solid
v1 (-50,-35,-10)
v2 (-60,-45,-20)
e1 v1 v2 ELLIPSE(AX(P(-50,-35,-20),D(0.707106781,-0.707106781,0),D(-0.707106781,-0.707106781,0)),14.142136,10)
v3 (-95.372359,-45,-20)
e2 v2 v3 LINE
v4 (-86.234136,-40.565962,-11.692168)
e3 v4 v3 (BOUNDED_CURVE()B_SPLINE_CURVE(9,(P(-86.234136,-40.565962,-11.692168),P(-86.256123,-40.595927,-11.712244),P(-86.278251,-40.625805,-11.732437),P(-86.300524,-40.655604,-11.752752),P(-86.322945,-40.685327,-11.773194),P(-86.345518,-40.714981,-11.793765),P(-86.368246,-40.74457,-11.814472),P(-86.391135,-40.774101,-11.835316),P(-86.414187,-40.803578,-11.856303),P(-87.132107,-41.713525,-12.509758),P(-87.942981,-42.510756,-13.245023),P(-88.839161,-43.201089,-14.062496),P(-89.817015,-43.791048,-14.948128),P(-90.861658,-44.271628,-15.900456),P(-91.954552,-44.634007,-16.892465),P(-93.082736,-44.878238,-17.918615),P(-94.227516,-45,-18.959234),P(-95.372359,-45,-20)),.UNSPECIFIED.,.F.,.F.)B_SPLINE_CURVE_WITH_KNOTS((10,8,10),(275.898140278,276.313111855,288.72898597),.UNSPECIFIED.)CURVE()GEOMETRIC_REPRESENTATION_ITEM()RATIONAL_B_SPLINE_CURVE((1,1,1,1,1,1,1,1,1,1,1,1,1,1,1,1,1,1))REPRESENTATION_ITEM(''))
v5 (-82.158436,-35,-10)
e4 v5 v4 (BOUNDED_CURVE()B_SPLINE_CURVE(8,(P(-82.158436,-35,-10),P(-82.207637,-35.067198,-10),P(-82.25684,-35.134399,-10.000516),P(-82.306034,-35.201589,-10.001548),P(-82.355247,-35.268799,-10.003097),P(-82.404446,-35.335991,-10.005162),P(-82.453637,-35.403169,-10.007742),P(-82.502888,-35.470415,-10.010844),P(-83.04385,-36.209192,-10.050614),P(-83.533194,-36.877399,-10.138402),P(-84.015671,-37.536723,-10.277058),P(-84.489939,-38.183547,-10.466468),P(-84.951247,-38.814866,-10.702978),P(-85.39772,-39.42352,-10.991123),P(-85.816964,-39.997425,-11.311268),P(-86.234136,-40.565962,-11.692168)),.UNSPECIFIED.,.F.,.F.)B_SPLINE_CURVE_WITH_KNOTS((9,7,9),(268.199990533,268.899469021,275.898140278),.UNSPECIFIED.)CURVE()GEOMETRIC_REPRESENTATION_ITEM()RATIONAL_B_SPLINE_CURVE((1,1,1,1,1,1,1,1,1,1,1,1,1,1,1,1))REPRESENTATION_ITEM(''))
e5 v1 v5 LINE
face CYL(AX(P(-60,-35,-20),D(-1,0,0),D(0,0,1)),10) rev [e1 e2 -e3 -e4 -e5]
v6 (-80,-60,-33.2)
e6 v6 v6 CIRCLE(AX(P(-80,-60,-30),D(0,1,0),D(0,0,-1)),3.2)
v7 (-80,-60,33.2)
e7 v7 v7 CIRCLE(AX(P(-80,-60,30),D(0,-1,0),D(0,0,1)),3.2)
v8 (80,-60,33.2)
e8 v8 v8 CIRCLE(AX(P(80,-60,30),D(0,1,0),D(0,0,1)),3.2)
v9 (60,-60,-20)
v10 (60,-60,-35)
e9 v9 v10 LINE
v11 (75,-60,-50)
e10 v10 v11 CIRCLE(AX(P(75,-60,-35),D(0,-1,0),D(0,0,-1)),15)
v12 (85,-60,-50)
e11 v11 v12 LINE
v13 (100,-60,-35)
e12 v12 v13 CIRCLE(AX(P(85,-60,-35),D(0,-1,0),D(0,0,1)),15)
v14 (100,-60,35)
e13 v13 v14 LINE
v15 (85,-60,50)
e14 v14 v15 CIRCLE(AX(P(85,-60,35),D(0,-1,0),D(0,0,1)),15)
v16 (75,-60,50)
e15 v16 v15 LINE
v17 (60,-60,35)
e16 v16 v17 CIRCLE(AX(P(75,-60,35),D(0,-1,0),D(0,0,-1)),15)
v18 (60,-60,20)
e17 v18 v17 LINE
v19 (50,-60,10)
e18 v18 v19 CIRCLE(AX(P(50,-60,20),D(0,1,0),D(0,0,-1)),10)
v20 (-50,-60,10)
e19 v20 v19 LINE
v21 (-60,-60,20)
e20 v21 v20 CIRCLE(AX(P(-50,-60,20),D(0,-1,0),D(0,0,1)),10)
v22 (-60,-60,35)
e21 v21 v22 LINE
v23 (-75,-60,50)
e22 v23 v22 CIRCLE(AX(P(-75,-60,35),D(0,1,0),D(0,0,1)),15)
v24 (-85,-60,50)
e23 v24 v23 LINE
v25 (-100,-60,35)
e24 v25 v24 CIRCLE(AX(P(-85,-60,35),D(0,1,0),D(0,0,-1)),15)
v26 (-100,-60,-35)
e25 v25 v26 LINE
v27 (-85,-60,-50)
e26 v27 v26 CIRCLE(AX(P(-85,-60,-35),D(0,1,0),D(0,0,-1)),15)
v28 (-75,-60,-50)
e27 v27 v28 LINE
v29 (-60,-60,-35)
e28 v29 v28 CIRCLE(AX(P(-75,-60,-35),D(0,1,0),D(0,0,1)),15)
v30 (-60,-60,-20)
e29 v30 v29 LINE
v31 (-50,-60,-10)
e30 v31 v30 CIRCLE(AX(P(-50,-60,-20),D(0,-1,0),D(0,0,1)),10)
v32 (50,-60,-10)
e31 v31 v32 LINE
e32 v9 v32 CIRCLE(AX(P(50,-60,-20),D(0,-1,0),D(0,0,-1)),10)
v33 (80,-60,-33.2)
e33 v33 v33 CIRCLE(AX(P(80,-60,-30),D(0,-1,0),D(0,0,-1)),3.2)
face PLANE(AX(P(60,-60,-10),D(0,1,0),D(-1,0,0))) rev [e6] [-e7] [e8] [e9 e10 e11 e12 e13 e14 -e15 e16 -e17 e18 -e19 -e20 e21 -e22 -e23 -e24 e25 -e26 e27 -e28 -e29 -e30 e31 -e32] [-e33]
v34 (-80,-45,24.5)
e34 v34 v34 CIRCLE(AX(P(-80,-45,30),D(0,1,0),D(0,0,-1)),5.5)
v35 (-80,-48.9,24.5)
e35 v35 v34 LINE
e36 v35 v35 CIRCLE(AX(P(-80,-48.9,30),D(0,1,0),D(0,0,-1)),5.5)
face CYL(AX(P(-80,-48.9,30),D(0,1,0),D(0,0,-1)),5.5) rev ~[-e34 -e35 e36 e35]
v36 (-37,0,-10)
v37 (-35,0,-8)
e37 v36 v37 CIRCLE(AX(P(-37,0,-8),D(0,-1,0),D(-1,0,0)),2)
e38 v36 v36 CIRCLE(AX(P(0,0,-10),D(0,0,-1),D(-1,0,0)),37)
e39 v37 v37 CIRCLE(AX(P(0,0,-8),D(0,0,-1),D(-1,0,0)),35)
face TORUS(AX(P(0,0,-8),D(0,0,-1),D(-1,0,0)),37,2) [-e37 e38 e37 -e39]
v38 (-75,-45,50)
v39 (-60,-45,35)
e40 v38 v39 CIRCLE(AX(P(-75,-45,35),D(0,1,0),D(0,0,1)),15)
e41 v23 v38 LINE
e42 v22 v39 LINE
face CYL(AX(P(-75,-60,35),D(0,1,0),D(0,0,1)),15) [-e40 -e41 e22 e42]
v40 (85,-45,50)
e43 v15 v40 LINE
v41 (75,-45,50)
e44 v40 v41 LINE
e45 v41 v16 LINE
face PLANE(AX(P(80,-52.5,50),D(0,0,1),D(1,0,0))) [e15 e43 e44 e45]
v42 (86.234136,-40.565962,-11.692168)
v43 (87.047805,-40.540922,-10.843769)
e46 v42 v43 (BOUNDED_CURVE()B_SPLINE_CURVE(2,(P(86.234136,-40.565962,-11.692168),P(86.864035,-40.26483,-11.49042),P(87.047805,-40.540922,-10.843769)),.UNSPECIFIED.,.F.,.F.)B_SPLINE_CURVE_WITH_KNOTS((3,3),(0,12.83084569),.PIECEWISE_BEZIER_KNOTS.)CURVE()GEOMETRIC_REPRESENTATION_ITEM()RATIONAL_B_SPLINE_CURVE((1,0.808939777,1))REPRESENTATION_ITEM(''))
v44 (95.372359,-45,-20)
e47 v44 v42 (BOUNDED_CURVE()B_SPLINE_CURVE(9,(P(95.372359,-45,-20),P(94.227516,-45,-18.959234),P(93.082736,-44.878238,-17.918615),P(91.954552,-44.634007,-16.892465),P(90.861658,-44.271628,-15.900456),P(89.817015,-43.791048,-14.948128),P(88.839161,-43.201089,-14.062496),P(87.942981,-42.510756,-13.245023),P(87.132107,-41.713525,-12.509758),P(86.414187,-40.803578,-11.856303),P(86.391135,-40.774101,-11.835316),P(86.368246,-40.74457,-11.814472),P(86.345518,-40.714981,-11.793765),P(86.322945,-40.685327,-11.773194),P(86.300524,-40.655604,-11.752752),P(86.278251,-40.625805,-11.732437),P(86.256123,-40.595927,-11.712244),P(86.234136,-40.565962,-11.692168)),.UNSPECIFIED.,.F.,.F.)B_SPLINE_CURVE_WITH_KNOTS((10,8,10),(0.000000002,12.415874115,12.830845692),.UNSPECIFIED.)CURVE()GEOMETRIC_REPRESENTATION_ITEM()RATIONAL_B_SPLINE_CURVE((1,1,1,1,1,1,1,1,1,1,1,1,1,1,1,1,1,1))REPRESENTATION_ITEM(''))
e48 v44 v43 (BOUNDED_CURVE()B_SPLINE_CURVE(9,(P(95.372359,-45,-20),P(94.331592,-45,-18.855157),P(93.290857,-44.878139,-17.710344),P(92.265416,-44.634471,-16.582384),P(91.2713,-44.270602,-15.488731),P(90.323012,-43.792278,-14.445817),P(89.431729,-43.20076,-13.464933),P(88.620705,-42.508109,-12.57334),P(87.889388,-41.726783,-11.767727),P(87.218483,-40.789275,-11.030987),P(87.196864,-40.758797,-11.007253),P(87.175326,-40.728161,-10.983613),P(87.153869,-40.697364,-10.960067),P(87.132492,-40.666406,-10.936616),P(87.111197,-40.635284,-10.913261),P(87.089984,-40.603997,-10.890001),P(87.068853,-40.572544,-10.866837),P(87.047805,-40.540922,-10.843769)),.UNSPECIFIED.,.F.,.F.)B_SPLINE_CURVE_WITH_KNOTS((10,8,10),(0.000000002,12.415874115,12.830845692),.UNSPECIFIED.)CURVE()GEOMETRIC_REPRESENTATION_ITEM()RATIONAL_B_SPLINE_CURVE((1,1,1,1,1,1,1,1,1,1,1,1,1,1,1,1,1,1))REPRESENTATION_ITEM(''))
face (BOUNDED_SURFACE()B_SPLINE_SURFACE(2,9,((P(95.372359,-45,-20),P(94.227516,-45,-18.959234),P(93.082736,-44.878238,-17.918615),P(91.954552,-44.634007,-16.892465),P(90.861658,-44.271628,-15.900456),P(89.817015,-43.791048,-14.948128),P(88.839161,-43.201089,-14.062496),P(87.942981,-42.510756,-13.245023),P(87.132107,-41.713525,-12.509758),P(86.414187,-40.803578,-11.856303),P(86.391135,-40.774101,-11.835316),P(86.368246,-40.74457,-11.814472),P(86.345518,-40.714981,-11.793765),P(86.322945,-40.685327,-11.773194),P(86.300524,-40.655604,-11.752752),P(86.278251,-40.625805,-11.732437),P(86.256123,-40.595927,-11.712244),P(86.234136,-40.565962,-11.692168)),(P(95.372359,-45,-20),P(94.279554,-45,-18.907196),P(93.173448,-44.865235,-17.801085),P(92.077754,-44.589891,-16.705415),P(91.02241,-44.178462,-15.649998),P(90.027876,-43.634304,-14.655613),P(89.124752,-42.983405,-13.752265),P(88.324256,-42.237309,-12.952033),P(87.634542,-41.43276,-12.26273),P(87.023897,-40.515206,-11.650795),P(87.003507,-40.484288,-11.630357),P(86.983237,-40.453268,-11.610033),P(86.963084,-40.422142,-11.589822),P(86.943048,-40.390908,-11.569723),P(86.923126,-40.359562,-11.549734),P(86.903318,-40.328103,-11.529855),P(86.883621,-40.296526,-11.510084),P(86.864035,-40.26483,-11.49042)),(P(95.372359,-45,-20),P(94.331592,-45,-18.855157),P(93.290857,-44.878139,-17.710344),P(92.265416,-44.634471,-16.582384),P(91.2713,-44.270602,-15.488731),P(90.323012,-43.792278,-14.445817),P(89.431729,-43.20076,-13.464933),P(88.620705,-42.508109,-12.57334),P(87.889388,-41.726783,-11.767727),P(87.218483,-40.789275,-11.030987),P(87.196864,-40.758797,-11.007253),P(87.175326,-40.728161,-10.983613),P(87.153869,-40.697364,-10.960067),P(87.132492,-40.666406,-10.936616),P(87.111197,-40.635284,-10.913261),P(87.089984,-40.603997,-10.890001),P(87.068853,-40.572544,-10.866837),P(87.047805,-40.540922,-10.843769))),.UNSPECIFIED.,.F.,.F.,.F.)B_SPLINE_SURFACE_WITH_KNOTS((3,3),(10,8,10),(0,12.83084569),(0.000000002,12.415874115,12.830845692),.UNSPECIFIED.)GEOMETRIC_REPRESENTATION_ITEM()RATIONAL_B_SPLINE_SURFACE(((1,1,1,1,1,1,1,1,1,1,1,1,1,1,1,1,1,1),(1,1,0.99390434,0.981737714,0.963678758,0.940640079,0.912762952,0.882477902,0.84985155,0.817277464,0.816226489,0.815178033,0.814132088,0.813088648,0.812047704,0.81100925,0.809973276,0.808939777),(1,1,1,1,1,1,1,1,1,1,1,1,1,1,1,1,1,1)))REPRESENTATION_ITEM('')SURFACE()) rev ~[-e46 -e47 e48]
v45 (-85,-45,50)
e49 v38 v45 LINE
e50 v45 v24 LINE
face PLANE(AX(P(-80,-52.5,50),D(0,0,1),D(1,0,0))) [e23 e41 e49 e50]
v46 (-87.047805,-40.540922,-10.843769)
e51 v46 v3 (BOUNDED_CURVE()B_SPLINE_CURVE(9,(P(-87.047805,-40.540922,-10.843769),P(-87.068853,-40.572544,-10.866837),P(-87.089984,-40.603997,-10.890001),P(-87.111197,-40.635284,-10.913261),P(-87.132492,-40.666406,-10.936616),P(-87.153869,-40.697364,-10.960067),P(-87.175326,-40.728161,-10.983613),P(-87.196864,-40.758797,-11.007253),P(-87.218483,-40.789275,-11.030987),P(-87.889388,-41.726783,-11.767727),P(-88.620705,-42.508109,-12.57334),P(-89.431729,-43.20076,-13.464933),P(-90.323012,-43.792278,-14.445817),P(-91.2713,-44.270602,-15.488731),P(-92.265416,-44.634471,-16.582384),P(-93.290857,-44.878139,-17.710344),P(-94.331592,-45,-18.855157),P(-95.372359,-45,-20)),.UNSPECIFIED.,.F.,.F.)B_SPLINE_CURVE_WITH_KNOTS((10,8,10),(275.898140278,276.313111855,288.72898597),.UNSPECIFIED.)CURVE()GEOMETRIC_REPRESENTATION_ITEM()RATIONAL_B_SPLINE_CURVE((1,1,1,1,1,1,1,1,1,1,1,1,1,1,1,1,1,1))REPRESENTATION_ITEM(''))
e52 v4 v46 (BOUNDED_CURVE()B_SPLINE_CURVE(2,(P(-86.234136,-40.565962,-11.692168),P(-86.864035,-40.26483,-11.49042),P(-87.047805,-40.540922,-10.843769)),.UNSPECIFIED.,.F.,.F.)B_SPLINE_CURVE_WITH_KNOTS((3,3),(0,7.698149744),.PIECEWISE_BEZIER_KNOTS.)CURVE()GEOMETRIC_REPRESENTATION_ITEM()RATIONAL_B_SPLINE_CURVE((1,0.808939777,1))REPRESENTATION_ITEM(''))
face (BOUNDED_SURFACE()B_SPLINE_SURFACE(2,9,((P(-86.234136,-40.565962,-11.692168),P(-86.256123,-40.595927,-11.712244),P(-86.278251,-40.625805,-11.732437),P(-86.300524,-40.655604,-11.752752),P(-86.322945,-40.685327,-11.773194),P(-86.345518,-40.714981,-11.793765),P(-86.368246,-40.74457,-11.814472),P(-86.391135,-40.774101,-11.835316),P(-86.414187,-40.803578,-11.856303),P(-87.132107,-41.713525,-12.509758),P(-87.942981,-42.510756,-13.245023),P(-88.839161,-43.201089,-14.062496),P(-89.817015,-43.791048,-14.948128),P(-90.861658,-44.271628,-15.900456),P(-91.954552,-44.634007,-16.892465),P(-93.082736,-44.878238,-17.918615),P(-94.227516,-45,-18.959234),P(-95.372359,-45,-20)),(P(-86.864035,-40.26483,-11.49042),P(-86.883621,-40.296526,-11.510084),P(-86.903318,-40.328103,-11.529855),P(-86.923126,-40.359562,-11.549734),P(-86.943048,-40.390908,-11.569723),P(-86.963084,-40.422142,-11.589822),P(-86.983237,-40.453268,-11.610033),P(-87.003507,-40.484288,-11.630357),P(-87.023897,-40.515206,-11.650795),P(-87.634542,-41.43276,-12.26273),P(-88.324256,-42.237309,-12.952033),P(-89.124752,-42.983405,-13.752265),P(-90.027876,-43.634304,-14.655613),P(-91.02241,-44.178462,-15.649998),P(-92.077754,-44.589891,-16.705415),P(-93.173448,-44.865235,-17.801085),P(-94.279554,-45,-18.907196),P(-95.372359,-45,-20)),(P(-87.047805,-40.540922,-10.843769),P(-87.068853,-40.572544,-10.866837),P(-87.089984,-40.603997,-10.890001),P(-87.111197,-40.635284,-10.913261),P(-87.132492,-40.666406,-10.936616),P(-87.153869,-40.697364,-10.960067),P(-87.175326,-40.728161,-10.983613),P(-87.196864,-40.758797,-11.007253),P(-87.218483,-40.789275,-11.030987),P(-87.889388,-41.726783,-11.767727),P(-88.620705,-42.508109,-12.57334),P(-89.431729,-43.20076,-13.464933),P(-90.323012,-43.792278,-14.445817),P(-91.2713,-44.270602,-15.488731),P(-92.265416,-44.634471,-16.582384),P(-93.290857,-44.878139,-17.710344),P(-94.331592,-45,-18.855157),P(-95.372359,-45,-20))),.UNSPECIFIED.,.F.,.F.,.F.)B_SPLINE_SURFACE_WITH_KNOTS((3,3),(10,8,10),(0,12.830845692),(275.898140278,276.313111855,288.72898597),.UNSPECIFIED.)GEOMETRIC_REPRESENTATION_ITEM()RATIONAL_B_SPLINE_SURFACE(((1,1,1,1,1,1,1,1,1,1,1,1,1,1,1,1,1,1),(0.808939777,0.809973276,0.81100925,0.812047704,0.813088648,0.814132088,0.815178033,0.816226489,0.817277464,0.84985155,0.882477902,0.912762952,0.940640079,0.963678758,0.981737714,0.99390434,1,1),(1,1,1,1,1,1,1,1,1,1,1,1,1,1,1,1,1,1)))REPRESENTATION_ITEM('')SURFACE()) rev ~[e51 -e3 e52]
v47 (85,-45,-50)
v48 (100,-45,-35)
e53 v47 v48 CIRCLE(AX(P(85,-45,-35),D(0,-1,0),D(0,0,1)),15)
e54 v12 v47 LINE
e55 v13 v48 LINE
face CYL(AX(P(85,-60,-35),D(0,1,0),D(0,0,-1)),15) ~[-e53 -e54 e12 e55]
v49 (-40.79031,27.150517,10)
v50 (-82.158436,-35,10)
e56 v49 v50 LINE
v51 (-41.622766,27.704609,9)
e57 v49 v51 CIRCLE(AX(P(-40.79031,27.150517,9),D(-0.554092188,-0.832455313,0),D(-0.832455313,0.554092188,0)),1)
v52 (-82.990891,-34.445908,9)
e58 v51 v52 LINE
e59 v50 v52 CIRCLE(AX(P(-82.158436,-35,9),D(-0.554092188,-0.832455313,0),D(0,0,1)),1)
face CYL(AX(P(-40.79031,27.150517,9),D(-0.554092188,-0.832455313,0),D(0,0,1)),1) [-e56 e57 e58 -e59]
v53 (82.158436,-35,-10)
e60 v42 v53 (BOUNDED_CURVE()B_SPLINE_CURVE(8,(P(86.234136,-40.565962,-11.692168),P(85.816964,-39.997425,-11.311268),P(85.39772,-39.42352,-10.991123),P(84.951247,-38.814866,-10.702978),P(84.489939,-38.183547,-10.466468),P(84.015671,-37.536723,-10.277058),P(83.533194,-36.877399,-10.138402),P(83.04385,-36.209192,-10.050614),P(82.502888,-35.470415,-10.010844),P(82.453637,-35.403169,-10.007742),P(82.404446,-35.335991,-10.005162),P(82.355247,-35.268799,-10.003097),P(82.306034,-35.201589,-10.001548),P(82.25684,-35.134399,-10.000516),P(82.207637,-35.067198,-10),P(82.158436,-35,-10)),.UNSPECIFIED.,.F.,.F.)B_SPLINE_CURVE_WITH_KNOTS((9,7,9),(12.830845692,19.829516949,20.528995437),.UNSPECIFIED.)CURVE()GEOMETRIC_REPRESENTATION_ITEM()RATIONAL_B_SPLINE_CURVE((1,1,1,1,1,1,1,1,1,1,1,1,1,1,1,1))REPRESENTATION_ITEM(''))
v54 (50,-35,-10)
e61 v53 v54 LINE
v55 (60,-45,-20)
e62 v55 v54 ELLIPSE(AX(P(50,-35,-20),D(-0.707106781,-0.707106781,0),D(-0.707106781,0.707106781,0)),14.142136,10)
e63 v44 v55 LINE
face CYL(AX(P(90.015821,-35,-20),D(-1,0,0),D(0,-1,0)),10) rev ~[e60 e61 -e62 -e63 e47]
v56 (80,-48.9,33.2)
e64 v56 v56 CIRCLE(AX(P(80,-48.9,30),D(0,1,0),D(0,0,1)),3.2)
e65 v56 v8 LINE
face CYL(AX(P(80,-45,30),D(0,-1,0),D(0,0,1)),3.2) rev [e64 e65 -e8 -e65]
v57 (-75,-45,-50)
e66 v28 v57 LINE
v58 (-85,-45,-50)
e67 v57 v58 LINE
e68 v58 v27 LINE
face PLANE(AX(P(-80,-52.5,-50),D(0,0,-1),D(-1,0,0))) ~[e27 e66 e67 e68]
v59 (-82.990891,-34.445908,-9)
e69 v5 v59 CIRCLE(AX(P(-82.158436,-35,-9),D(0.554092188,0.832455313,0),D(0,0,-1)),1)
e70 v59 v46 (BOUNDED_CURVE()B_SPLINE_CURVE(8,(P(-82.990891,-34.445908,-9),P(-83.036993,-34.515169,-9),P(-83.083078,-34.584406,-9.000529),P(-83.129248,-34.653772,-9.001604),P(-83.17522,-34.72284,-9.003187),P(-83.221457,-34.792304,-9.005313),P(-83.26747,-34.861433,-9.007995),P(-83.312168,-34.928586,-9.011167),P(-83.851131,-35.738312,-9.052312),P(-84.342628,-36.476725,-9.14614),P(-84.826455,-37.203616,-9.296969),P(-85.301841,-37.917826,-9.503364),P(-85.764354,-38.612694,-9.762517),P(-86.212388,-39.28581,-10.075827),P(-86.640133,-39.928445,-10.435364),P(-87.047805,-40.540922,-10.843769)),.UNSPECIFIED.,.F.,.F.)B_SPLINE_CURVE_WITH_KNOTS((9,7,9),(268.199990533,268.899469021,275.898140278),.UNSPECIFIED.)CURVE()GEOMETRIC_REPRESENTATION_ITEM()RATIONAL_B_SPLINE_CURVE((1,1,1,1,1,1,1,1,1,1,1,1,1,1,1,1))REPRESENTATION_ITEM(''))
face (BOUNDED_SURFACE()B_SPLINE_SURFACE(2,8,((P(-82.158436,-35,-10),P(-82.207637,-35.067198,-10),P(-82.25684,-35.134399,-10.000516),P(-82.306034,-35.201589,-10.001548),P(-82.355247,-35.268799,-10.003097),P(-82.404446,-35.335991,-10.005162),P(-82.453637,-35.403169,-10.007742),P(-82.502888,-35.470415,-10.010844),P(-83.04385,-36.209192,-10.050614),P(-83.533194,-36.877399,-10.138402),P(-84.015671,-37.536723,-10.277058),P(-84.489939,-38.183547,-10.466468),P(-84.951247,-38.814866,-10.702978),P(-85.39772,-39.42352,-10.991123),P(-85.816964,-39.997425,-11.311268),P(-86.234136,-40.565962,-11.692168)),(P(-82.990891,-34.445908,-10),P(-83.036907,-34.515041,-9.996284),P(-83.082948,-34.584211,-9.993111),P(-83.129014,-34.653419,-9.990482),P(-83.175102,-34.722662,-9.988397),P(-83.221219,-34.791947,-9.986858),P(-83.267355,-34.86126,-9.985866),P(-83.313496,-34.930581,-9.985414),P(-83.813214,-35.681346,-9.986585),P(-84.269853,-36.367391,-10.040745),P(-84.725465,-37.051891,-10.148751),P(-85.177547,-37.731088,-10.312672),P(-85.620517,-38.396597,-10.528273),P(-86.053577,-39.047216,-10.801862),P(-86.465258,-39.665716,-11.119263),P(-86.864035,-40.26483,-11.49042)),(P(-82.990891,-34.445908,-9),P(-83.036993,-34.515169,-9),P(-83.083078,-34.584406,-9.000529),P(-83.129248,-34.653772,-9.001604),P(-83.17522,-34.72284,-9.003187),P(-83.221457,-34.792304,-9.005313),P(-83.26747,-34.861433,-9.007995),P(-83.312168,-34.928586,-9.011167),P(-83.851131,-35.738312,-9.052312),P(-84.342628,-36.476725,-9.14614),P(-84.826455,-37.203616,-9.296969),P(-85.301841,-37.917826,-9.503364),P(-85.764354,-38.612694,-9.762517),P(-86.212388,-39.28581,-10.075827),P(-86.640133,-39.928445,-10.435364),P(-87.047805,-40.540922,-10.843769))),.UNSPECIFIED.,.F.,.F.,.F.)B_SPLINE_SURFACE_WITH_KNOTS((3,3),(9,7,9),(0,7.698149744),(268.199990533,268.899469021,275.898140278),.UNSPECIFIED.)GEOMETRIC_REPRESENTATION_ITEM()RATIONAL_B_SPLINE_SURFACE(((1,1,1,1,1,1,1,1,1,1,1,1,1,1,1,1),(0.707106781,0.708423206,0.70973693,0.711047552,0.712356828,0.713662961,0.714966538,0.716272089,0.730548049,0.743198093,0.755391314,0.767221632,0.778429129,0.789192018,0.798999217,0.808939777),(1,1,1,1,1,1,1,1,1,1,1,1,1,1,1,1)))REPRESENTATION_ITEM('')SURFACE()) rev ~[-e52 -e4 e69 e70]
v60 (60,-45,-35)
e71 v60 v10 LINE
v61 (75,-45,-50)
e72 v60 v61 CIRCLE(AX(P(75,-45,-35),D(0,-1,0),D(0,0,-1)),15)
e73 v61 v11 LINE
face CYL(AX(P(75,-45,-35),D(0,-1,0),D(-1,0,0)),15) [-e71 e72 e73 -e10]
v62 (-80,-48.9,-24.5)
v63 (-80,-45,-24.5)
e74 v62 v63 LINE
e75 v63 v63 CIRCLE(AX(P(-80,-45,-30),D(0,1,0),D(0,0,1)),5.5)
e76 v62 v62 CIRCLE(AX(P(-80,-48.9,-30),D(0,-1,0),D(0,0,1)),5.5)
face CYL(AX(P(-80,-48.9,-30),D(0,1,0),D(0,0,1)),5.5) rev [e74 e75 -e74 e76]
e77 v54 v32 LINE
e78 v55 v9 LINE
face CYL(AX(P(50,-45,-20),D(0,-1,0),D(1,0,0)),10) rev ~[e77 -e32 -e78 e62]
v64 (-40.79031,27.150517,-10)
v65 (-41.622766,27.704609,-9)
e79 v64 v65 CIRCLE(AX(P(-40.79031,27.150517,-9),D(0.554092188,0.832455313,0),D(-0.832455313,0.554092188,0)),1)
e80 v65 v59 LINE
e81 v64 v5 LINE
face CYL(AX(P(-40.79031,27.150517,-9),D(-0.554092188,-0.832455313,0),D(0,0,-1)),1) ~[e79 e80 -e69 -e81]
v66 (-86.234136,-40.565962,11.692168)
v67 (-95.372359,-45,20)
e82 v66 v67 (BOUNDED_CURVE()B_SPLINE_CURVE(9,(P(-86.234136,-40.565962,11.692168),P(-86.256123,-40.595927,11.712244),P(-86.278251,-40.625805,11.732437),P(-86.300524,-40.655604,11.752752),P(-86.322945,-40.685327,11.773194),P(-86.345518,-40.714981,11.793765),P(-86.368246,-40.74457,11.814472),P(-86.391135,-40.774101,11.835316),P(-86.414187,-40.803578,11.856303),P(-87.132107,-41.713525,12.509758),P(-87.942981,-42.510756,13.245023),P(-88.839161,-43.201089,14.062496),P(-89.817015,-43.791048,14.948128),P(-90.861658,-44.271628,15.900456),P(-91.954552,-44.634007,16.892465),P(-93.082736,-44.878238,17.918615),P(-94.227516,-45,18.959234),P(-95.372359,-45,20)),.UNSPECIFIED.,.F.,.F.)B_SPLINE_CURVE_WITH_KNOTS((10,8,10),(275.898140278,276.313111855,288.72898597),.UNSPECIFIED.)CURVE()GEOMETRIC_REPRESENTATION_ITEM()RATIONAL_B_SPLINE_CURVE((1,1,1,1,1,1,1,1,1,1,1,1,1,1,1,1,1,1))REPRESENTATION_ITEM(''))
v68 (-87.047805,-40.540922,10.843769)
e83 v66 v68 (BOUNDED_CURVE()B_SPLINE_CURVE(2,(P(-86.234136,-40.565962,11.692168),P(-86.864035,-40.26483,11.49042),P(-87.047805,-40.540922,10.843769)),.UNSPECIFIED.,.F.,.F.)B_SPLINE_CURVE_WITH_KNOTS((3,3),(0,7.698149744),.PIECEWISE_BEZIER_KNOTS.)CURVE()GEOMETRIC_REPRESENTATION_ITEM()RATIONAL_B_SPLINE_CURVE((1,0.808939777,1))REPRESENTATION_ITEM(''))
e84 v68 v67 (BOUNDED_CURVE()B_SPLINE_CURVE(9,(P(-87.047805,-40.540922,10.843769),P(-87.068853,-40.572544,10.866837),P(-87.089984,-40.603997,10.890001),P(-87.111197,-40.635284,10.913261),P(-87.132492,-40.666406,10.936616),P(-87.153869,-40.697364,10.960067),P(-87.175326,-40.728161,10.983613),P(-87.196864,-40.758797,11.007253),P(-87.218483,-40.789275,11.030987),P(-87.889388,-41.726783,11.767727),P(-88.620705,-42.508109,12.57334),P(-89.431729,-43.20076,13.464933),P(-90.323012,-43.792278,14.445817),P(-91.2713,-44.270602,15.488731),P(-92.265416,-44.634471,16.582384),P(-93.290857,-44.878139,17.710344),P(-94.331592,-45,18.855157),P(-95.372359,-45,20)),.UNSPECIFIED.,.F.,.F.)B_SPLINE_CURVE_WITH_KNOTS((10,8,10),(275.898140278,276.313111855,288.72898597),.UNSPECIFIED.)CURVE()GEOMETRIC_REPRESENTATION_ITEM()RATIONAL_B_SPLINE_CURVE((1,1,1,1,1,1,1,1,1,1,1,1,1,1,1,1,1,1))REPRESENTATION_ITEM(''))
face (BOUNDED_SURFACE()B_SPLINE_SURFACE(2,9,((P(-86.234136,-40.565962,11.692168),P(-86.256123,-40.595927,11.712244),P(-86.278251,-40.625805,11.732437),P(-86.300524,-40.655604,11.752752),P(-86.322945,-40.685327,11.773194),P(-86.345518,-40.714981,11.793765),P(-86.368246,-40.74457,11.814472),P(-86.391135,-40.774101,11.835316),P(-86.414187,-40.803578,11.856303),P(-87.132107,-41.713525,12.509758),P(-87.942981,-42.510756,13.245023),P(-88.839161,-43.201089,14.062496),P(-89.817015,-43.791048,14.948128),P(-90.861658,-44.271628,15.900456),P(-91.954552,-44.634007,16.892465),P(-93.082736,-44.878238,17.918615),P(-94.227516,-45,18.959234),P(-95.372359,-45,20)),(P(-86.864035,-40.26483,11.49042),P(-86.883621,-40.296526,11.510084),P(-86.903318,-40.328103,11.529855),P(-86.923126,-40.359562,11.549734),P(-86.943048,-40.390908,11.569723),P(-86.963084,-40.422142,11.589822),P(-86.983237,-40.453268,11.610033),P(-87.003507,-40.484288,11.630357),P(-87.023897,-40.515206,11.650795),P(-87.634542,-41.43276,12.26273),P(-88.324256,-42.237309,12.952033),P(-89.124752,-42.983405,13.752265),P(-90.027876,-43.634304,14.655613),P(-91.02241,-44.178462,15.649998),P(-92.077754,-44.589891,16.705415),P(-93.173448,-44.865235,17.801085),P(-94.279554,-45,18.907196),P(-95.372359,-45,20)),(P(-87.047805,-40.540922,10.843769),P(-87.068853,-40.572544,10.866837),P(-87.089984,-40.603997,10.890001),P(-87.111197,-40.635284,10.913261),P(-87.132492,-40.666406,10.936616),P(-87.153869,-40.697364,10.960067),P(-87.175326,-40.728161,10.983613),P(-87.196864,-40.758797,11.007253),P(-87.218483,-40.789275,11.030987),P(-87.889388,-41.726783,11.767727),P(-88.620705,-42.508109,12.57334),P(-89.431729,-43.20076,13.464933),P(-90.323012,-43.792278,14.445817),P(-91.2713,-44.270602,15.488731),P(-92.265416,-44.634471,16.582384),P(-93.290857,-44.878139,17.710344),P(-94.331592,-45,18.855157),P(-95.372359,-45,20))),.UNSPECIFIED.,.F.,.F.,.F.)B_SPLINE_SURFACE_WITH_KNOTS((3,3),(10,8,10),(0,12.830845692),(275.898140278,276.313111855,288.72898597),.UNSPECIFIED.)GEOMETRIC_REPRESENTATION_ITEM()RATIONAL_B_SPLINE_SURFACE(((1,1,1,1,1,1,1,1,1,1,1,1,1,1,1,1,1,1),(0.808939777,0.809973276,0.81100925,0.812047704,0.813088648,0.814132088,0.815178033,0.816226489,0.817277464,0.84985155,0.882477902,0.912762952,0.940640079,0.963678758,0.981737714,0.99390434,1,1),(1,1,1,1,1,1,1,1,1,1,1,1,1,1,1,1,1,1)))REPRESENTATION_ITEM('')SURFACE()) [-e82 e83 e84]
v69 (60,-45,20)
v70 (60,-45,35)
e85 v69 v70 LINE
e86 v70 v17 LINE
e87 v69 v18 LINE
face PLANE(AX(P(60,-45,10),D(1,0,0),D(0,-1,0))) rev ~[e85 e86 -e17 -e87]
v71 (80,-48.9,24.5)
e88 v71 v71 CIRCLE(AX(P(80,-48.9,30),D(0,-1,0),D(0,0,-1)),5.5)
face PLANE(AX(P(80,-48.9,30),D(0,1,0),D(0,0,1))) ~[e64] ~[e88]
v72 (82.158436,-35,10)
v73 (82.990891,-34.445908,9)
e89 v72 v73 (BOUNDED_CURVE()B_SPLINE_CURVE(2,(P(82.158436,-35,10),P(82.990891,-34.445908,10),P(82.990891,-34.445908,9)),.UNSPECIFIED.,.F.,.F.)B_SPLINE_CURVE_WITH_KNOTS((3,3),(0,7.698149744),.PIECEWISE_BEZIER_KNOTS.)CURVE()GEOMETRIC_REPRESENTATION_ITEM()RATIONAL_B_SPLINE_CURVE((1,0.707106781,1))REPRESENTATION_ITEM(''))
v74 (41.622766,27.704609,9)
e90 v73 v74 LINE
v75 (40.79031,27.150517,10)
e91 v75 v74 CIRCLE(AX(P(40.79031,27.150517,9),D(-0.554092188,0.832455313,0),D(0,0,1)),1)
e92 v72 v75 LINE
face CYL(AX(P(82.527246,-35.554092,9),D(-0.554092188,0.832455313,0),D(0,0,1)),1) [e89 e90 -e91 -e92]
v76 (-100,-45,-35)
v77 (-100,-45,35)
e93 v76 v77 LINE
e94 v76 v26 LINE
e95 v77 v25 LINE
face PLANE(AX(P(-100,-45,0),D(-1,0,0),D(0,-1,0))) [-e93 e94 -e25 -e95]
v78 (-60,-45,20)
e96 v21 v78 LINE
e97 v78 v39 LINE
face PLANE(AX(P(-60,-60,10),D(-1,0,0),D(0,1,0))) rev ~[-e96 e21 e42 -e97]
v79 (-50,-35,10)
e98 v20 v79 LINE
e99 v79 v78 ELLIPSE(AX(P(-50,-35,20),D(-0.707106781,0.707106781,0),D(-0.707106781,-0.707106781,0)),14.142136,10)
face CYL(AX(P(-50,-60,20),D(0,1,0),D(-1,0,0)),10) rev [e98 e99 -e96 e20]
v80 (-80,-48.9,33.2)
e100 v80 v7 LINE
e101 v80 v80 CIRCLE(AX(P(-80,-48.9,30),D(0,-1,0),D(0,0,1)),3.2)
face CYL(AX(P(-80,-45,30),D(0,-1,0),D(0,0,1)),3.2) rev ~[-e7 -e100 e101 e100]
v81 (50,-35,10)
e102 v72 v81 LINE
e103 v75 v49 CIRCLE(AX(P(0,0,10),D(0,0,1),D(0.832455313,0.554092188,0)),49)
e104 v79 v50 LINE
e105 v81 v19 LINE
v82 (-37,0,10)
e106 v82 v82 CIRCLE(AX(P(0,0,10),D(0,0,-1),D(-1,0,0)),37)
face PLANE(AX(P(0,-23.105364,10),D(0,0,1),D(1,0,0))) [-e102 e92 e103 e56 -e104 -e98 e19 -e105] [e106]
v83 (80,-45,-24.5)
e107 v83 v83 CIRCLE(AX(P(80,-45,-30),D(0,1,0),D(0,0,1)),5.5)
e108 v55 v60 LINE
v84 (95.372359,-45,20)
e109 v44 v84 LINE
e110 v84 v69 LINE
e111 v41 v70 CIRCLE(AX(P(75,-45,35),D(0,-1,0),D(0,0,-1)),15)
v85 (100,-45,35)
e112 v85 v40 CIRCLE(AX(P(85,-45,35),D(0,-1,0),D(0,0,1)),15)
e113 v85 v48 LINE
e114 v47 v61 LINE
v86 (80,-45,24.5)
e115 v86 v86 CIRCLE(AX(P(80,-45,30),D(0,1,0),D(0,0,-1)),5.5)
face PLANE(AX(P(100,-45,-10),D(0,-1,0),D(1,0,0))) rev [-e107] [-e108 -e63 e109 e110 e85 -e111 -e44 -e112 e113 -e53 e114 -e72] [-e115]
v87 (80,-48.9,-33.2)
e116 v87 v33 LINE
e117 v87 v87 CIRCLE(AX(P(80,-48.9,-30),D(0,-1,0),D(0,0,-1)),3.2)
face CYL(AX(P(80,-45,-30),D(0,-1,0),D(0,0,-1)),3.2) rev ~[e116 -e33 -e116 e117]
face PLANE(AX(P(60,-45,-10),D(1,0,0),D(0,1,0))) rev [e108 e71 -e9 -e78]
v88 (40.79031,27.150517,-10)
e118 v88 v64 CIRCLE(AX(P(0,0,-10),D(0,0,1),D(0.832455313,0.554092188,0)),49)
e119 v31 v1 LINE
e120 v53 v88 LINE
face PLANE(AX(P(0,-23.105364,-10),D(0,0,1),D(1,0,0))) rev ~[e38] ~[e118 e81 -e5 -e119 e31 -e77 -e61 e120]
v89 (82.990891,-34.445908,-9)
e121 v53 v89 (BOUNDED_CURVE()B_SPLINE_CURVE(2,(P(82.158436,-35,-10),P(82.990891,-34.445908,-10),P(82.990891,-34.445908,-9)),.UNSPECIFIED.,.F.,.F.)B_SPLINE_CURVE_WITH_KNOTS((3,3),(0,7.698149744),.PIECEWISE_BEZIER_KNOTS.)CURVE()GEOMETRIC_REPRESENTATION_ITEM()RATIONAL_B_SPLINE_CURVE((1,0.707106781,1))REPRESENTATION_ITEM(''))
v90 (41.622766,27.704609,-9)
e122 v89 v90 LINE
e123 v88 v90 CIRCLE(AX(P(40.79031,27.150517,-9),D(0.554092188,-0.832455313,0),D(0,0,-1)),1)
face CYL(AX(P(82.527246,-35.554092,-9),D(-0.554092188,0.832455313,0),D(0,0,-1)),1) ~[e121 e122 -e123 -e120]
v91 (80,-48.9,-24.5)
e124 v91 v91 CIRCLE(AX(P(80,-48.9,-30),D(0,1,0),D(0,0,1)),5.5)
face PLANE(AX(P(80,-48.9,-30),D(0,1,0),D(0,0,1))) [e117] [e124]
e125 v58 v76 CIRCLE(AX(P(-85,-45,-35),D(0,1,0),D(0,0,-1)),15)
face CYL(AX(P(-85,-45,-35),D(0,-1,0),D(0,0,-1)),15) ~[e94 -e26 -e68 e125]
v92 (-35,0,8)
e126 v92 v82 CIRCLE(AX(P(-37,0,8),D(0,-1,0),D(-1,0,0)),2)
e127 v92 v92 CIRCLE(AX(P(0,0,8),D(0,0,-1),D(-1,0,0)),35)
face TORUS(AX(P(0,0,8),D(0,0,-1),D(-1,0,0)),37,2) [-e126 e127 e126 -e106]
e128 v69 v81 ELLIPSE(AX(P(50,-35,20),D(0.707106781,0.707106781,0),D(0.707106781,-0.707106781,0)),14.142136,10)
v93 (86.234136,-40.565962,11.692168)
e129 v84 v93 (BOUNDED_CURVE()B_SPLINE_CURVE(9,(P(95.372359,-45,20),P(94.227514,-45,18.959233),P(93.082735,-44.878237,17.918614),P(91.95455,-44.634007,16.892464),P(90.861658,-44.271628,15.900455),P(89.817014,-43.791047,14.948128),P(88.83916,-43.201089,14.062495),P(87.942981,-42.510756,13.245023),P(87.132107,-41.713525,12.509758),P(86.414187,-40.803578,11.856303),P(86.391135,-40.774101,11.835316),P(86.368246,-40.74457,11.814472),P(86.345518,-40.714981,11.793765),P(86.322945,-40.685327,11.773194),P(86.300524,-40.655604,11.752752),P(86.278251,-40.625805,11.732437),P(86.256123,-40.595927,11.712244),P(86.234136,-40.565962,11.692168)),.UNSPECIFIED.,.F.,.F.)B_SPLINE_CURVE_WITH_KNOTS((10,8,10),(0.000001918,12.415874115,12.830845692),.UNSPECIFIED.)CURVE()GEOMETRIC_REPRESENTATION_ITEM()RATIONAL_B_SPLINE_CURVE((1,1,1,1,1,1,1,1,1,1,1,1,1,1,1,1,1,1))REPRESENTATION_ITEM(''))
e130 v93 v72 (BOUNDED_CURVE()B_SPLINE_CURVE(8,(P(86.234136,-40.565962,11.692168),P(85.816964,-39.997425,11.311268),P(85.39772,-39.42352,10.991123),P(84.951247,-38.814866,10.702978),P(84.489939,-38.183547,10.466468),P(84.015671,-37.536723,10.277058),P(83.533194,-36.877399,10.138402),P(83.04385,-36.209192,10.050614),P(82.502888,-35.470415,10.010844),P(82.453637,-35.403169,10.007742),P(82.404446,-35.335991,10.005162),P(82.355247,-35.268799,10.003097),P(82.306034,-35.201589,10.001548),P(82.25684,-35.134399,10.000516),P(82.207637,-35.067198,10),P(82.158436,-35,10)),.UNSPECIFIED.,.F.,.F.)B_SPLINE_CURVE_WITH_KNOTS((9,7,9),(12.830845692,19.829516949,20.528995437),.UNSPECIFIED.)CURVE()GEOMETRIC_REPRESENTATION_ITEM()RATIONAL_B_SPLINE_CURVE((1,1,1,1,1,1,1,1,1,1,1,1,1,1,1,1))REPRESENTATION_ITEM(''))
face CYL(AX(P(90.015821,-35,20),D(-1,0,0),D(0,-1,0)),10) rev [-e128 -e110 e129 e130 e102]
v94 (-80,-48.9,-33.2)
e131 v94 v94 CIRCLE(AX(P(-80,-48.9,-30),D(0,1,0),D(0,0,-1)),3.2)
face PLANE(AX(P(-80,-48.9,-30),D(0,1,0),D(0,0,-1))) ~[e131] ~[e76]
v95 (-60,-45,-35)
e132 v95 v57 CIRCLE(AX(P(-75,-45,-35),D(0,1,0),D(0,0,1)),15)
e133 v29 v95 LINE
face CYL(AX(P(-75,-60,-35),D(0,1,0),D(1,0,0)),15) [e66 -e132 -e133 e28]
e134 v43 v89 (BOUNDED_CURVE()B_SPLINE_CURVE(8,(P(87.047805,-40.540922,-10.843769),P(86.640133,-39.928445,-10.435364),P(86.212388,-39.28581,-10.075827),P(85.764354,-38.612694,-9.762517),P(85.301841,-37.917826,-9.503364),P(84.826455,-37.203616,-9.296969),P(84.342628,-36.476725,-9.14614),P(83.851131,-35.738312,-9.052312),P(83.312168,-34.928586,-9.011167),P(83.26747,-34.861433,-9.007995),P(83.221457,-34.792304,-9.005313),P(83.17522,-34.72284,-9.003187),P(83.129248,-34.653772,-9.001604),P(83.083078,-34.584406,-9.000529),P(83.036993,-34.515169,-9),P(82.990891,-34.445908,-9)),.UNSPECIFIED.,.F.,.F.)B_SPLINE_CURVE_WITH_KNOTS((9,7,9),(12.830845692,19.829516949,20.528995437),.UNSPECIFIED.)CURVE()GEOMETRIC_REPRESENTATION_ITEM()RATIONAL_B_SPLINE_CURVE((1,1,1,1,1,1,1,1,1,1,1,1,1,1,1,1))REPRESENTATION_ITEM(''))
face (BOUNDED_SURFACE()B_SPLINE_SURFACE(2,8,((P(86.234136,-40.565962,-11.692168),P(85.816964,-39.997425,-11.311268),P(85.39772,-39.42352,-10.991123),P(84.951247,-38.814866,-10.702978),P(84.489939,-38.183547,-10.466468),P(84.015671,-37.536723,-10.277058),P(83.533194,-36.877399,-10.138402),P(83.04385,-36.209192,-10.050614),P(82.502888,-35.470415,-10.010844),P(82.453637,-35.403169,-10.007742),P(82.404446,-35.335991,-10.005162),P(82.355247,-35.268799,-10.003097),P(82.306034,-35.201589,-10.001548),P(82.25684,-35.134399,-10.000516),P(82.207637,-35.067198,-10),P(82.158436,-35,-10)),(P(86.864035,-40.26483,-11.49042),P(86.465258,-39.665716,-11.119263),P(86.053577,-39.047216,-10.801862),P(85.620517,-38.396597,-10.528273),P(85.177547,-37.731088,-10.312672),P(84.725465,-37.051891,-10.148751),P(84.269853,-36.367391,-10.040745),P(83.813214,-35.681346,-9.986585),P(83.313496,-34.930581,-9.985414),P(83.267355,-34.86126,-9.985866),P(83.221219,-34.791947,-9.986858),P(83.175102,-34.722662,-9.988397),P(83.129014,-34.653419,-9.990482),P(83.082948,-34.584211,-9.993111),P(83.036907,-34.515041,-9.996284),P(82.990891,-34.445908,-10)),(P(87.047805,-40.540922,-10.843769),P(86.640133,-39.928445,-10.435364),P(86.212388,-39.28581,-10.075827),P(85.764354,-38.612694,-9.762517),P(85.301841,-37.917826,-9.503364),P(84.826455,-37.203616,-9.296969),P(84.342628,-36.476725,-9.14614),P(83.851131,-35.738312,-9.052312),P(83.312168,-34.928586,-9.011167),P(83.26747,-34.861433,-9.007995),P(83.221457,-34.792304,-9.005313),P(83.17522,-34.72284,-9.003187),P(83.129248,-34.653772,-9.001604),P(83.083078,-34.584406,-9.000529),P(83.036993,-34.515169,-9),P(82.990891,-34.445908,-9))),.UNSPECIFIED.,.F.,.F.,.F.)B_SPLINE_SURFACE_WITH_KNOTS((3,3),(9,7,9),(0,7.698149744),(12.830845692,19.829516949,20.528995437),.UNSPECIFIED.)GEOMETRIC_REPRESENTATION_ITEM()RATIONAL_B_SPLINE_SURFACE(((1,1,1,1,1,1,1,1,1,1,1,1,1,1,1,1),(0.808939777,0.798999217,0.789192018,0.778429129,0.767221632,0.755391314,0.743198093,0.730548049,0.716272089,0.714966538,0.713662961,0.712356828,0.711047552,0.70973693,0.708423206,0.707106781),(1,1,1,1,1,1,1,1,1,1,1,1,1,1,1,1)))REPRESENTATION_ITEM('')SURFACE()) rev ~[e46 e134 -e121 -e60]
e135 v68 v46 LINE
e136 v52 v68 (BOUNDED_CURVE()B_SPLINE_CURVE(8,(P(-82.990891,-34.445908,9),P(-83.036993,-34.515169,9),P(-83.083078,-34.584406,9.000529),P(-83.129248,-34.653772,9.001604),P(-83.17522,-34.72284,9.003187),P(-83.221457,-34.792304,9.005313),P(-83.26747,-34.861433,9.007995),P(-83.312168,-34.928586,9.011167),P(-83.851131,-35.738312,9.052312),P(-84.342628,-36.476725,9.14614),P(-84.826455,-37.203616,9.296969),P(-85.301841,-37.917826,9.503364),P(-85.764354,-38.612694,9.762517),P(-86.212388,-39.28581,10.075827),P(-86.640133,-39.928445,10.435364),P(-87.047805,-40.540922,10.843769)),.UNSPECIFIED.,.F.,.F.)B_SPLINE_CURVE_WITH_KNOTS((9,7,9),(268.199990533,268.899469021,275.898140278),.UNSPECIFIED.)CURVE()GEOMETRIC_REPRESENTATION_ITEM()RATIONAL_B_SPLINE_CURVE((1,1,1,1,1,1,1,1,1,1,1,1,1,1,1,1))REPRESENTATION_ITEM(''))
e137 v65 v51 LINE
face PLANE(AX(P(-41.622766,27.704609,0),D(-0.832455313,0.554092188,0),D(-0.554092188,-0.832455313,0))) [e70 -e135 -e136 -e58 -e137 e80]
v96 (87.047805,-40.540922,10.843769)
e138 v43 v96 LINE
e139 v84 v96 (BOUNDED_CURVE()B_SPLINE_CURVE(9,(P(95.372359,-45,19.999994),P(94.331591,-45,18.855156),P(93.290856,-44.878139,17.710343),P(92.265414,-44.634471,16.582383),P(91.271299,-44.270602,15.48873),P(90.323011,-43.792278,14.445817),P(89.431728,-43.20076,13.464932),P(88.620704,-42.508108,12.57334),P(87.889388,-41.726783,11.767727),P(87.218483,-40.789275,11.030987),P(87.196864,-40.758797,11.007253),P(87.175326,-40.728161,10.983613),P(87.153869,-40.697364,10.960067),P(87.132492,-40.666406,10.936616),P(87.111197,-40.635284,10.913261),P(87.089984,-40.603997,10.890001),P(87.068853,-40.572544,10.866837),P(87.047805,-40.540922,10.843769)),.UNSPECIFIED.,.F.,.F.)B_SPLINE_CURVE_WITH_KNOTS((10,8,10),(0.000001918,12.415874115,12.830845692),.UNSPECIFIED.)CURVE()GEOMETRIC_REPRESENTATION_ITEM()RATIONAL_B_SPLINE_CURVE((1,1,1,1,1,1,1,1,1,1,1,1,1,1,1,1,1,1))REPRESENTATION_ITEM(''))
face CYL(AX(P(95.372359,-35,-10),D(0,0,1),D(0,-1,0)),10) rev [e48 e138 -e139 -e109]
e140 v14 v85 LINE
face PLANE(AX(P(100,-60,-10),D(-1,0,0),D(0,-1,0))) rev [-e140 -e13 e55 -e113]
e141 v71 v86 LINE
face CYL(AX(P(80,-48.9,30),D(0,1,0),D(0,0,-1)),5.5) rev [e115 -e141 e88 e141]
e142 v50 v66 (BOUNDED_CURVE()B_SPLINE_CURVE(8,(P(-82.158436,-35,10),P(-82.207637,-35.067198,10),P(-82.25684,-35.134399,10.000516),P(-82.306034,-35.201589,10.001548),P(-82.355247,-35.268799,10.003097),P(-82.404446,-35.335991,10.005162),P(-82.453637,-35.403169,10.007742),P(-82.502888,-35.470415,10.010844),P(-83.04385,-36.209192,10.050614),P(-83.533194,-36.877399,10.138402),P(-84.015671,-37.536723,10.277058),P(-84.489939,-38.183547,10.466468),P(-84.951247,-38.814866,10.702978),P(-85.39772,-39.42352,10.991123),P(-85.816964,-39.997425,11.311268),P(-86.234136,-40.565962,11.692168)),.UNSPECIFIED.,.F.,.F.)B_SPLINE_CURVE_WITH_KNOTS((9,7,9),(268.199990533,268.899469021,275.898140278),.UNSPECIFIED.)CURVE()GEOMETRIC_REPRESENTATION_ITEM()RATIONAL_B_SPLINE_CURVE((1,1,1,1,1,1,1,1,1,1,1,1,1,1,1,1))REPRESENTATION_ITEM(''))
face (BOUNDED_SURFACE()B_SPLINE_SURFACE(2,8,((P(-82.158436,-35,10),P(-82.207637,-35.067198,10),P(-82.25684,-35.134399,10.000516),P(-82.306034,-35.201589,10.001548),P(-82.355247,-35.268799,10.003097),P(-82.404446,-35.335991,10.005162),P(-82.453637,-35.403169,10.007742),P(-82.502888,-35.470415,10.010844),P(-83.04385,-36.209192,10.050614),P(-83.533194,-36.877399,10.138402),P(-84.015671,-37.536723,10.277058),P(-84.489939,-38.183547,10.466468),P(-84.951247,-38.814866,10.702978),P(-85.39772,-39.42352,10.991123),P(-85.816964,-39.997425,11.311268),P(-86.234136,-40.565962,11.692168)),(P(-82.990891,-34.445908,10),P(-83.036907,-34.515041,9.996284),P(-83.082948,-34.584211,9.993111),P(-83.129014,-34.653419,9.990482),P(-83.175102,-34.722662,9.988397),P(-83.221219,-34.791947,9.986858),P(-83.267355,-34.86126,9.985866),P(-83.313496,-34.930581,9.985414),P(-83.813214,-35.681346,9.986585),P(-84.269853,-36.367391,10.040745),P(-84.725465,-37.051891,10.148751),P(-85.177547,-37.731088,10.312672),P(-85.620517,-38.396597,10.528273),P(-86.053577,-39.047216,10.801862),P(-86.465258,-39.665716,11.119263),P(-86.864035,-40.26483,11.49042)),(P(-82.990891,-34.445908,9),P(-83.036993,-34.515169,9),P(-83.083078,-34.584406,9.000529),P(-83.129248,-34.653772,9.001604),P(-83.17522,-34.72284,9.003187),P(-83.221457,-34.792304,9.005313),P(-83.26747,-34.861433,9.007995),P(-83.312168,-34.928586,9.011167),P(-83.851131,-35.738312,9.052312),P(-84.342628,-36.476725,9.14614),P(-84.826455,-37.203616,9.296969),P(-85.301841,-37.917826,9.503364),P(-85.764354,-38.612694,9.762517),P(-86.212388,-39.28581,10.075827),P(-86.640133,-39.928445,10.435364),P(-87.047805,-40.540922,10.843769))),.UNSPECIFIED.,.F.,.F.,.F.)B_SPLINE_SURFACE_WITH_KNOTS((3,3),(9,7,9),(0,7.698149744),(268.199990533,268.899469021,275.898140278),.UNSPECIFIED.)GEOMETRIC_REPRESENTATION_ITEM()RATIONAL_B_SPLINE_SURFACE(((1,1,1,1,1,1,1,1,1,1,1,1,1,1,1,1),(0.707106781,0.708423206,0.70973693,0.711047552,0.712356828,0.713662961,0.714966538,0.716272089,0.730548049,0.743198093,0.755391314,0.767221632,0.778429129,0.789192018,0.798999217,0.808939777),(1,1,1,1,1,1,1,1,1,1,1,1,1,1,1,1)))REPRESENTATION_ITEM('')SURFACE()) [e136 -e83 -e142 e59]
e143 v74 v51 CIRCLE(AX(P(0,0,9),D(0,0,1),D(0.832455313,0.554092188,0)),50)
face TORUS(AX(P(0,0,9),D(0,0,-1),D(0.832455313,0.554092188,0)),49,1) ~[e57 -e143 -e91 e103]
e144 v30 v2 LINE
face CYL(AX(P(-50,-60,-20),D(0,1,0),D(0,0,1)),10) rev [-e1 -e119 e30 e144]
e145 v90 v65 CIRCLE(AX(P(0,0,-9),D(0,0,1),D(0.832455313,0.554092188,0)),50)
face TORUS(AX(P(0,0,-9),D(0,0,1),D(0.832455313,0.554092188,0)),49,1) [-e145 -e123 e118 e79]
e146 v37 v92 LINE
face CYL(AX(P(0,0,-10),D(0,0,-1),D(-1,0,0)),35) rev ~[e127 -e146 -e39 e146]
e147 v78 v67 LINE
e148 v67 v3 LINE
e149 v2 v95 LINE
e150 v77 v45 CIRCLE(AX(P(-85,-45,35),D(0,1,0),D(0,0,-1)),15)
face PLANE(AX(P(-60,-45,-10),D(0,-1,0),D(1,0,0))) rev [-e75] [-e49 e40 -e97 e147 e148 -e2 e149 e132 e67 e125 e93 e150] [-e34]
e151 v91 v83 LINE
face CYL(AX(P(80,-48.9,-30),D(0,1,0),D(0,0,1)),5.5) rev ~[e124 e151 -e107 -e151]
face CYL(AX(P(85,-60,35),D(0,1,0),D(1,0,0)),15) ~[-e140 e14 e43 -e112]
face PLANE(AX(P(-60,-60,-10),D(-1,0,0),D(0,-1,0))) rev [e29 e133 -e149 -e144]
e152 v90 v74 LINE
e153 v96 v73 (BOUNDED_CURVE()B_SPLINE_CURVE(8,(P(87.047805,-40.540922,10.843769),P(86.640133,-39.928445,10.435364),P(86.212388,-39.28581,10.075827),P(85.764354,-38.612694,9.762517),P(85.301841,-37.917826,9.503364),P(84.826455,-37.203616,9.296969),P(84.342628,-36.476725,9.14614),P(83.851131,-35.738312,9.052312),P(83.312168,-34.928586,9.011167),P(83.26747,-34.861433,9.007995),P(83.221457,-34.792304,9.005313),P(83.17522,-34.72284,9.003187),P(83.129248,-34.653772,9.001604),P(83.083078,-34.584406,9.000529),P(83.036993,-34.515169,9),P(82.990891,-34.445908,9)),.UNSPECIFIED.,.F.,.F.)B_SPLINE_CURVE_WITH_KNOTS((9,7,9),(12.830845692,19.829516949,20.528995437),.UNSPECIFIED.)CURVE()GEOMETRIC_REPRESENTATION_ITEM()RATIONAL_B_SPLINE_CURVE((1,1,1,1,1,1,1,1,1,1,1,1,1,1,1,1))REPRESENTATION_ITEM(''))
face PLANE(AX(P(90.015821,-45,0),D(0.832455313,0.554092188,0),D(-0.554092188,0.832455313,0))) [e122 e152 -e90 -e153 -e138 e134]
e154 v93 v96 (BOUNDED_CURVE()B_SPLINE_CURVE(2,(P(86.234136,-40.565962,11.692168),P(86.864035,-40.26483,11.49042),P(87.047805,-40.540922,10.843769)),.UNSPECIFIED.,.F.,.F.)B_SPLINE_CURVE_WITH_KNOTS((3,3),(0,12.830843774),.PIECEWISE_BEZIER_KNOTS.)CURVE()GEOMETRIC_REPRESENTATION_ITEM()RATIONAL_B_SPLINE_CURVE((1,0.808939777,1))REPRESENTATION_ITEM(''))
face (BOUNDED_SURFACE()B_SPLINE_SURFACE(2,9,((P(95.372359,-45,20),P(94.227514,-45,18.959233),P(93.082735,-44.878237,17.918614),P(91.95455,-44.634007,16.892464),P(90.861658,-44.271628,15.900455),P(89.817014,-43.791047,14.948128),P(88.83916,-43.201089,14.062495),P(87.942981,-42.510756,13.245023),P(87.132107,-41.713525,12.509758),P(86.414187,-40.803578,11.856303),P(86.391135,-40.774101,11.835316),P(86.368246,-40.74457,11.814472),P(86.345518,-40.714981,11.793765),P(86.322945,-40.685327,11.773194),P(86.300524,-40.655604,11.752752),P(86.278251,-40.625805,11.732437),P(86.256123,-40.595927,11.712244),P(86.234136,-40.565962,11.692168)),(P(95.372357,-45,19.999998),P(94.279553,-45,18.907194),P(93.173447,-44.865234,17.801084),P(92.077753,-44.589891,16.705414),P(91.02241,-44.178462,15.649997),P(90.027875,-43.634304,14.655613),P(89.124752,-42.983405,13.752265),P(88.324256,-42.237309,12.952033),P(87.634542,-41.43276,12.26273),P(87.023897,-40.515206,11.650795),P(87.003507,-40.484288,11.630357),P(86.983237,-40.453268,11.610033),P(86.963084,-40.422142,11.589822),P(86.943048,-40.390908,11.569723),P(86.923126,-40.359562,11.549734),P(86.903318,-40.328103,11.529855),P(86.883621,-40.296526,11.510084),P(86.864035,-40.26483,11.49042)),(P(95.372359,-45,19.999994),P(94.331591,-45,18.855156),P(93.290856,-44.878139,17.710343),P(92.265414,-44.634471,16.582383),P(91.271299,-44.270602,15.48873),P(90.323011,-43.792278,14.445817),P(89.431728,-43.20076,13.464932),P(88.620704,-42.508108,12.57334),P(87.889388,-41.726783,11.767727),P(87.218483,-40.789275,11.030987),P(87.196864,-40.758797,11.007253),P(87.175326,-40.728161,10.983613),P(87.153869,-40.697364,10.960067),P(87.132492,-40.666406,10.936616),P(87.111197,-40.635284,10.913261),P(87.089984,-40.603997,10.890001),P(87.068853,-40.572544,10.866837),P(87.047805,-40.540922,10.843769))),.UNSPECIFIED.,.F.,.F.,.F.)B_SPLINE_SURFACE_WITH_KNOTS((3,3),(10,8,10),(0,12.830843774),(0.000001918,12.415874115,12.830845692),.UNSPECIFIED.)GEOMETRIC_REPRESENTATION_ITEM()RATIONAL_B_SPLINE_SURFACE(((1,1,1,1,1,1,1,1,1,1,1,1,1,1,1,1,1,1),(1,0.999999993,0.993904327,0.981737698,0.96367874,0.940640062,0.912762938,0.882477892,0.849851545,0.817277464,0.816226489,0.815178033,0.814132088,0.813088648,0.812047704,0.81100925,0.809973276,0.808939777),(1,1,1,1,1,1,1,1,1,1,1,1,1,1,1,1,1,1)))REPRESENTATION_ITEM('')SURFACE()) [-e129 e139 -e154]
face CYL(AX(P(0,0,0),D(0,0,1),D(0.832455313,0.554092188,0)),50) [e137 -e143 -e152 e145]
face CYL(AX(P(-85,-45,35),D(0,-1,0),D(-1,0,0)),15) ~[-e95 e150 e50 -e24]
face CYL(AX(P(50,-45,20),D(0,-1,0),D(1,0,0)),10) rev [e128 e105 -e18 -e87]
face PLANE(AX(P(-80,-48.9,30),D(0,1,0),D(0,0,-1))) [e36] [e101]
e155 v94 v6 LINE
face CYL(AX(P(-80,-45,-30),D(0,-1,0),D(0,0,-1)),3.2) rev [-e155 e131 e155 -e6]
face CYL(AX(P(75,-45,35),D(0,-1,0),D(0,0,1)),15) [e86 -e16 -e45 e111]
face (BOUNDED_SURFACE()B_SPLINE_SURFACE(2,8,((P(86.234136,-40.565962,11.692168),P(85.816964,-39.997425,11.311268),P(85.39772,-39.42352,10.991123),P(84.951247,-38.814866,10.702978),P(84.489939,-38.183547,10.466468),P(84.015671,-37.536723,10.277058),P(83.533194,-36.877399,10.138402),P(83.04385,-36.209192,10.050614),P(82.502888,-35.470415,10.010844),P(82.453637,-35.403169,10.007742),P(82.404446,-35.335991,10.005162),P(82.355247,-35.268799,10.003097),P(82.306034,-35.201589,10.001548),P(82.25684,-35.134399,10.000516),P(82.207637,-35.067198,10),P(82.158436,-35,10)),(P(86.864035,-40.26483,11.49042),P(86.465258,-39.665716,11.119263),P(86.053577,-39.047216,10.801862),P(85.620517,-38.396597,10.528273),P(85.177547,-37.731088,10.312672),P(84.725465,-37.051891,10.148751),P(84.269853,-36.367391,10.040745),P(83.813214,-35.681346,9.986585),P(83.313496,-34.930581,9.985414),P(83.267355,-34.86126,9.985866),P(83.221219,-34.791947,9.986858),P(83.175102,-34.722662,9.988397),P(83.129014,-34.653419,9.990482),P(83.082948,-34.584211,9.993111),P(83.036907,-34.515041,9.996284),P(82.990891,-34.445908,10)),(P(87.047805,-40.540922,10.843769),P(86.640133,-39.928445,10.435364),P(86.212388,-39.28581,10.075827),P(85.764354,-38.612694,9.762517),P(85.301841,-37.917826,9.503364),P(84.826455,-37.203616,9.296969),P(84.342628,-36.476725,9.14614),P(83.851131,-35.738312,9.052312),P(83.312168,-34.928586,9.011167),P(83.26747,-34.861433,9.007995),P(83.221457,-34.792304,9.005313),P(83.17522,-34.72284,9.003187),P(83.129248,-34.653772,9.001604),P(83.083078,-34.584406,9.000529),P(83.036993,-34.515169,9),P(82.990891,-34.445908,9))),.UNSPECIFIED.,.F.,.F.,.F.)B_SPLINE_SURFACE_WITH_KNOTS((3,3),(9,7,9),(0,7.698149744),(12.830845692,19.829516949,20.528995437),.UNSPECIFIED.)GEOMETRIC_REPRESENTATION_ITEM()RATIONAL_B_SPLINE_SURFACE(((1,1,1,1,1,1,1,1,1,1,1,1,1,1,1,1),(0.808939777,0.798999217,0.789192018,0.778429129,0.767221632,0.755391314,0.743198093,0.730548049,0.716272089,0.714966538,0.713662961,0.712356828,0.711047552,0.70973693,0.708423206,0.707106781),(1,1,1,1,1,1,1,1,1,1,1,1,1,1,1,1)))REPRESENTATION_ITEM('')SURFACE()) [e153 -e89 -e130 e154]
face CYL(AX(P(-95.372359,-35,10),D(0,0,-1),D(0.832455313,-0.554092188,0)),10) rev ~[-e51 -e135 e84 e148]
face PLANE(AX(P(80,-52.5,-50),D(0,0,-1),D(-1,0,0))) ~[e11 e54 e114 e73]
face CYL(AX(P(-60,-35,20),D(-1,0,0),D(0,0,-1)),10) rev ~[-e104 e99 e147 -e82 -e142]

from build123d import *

# Parameters (mm, degrees)
BOSS_EXTRUDE1_DEPTH                           = 10
BOSS_EXTRUDE2_DEPTH                           = 40
CBORE_FOR_M6_CHEESE_SLOTTED_HEAD1_D           = 6.4
CBORE_FOR_M6_CHEESE_SLOTTED_HEAD1_DEPTH       = 15
CBORE_FOR_M6_CHEESE_SLOTTED_HEAD1_CBORE_D     = 11
CBORE_FOR_M6_CHEESE_SLOTTED_HEAD1_CBORE_DEPTH = 3.9
MIRROR4_COPY_1_D                              = 6.4
MIRROR4_COPY_1_DEPTH                          = 15
MIRROR4_COPY_1_CBORE_D                        = 11
MIRROR4_COPY_1_CBORE_DEPTH                    = 3.9
FILLET1_R                                     = 10
FILLET2_R                                     = 15
FILLET3_R                                     = 10
FILLET4_R                                     = 15
FILLET5_R                                     = 1
SKETCH5_R                                     = 35
CUT_EXTRUDE1_DEPTH                            = 61
FILLET6_R                                     = 2


with BuildPart() as part:
    # Sketch1 → Boss-Extrude1 (new body, symmetric)
    with BuildSketch(Plane.XY):
        with BuildLine():
            Line((-100, -60), (100, -60))
            Line((100, -60), (100, -45))
            Line((100, -45), (90.015821042, -45))
            Line((90.015821042, -45), (41.622765631, 27.704609385))
            ThreePointArc((41.622765631, 27.704609385), (0, 50), (-41.622765631, 27.704609385))
            Line((-41.622765631, 27.704609385), (-90.015821042, -45))
            Line((-90.015821042, -45), (-100, -45))
            Line((-100, -45), (-100, -60))
        make_face()
    extrude(amount=BOSS_EXTRUDE1_DEPTH, both=True)

    # Sketch2 → Boss-Extrude2 (add)
    with BuildSketch(Plane.XY.offset(10)):
        Polygon((90.015821042, -45), (60, -45), (60, -60), (100, -60), (100, -45), align=None)
        Polygon((-60, -60), (-60, -45), (-90.015821042, -45), (-100, -45), (-100, -60), align=None)
    boss_extrude2 = extrude(amount=BOSS_EXTRUDE2_DEPTH)

    # Mirror2: Boss-Extrude2 across plane
    add(boss_extrude2.mirror(Plane.XY))

    # CBORE for M6 Cheese Slotted Head1
    with Locations(Plane(origin=(80, -45, -30), x_dir=(0, 0, 1), z_dir=(0, 1, 0))):
        with Locations((0, 0)):
            cbore_for_m6_cheese_slotted_head1 = CounterBoreHole(CBORE_FOR_M6_CHEESE_SLOTTED_HEAD1_D / 2, CBORE_FOR_M6_CHEESE_SLOTTED_HEAD1_CBORE_D / 2, CBORE_FOR_M6_CHEESE_SLOTTED_HEAD1_CBORE_DEPTH, depth=CBORE_FOR_M6_CHEESE_SLOTTED_HEAD1_DEPTH)

    # Mirror3: CBORE for M6 Cheese Slotted Head1 across plane
    add(cbore_for_m6_cheese_slotted_head1.mirror(Plane(origin=(0, 0, 0), x_dir=(0, 0, 1), z_dir=(1, 0, 0))), mode=Mode.SUBTRACT)

    # Mirror4: CBORE for M6 Cheese Slotted Head1 across plane
    add(cbore_for_m6_cheese_slotted_head1.mirror(Plane.XY), mode=Mode.SUBTRACT)

    # Mirror4 copy 1
    with Locations(Plane(origin=(-80, -45, 30), x_dir=(0, 0, -1), z_dir=(0, 1, 0))):
        with Locations((0, 0)):
            CounterBoreHole(MIRROR4_COPY_1_D / 2, MIRROR4_COPY_1_CBORE_D / 2, MIRROR4_COPY_1_CBORE_DEPTH, depth=MIRROR4_COPY_1_DEPTH)

    # Fillet1
    fillet1_edges = [part.edges().sort_by_distance(p)[0] for p in [
        (90.015821042, -45, 0),
        (60, -52.5, 10),
        (75.007910521, -45, 10),
        (75.007910521, -45, -10),
        (60, -52.5, -10),
    ]]
    fillet(fillet1_edges, radius=FILLET1_R)

    # Fillet2
    fillet2_edges = [part.edges().sort_by_distance(p)[0] for p in [
        (60, -52.5, 50),
        (100, -52.5, 50),
        (100, -52.5, -50),
        (60, -52.5, -50),
    ]]
    fillet(fillet2_edges, radius=FILLET2_R)

    # Fillet3
    fillet3_edges = [part.edges().sort_by_distance(p)[0] for p in [
        (-90.015821042, -45, 0),
        (-75.007910521, -45, 10),
        (-60, -52.5, 10),
        (-75.007910521, -45, -10),
        (-60, -52.5, -10),
    ]]
    fillet(fillet3_edges, radius=FILLET3_R)

    # Fillet4
    fillet4_edges = [part.edges().sort_by_distance(p)[0] for p in [
        (-60, -52.5, 50),
        (-100, -52.5, 50),
        (-100, -52.5, -50),
        (-60, -52.5, -50),
    ]]
    fillet(fillet4_edges, radius=FILLET4_R)

    # Fillet5
    fillet5_edges = [part.edges().sort_by_distance(p)[0] for p in [
        (62.491233684, -3.647695307, 10),
        (62.491233684, -3.647695307, -10),
        (85.262771791, -37.85912852, 10.417443759),
        (85.262771791, -37.85912852, -10.417443759),
        (90.886474153, -43.93738446, -15.514115582),
        (90.886474153, -43.93738446, 15.514115582),
        (-85.262771791, -37.85912852, 10.417443759),
        (-85.262771791, -37.85912852, -10.417443759),
        (-90.886474153, -43.93738446, 15.514115582),
        (-90.886474153, -43.93738446, -15.514115582),
        (0, 50, 10),
        (-62.491233684, -3.647695307, 10),
        (-62.491233684, -3.647695307, -10),
        (0, 50, -10),
    ]]
    fillet(fillet5_edges, radius=FILLET5_R)

    # Sketch5 → Cut-Extrude1 (cut, through all)
    with BuildSketch(Plane(origin=(0, 0, -10), x_dir=(-1, 0, 0), z_dir=(0, 0, -1))):
        Circle(SKETCH5_R)
    extrude(amount=-CUT_EXTRUDE1_DEPTH, mode=Mode.SUBTRACT)

    # Fillet6
    fillet6_edges = [part.edges().sort_by_distance(p)[0] for p in [
        (35, 0, 10),
        (35, 0, -10),
    ]]
    fillet(fillet6_edges, radius=FILLET6_R)


solid = part.part
